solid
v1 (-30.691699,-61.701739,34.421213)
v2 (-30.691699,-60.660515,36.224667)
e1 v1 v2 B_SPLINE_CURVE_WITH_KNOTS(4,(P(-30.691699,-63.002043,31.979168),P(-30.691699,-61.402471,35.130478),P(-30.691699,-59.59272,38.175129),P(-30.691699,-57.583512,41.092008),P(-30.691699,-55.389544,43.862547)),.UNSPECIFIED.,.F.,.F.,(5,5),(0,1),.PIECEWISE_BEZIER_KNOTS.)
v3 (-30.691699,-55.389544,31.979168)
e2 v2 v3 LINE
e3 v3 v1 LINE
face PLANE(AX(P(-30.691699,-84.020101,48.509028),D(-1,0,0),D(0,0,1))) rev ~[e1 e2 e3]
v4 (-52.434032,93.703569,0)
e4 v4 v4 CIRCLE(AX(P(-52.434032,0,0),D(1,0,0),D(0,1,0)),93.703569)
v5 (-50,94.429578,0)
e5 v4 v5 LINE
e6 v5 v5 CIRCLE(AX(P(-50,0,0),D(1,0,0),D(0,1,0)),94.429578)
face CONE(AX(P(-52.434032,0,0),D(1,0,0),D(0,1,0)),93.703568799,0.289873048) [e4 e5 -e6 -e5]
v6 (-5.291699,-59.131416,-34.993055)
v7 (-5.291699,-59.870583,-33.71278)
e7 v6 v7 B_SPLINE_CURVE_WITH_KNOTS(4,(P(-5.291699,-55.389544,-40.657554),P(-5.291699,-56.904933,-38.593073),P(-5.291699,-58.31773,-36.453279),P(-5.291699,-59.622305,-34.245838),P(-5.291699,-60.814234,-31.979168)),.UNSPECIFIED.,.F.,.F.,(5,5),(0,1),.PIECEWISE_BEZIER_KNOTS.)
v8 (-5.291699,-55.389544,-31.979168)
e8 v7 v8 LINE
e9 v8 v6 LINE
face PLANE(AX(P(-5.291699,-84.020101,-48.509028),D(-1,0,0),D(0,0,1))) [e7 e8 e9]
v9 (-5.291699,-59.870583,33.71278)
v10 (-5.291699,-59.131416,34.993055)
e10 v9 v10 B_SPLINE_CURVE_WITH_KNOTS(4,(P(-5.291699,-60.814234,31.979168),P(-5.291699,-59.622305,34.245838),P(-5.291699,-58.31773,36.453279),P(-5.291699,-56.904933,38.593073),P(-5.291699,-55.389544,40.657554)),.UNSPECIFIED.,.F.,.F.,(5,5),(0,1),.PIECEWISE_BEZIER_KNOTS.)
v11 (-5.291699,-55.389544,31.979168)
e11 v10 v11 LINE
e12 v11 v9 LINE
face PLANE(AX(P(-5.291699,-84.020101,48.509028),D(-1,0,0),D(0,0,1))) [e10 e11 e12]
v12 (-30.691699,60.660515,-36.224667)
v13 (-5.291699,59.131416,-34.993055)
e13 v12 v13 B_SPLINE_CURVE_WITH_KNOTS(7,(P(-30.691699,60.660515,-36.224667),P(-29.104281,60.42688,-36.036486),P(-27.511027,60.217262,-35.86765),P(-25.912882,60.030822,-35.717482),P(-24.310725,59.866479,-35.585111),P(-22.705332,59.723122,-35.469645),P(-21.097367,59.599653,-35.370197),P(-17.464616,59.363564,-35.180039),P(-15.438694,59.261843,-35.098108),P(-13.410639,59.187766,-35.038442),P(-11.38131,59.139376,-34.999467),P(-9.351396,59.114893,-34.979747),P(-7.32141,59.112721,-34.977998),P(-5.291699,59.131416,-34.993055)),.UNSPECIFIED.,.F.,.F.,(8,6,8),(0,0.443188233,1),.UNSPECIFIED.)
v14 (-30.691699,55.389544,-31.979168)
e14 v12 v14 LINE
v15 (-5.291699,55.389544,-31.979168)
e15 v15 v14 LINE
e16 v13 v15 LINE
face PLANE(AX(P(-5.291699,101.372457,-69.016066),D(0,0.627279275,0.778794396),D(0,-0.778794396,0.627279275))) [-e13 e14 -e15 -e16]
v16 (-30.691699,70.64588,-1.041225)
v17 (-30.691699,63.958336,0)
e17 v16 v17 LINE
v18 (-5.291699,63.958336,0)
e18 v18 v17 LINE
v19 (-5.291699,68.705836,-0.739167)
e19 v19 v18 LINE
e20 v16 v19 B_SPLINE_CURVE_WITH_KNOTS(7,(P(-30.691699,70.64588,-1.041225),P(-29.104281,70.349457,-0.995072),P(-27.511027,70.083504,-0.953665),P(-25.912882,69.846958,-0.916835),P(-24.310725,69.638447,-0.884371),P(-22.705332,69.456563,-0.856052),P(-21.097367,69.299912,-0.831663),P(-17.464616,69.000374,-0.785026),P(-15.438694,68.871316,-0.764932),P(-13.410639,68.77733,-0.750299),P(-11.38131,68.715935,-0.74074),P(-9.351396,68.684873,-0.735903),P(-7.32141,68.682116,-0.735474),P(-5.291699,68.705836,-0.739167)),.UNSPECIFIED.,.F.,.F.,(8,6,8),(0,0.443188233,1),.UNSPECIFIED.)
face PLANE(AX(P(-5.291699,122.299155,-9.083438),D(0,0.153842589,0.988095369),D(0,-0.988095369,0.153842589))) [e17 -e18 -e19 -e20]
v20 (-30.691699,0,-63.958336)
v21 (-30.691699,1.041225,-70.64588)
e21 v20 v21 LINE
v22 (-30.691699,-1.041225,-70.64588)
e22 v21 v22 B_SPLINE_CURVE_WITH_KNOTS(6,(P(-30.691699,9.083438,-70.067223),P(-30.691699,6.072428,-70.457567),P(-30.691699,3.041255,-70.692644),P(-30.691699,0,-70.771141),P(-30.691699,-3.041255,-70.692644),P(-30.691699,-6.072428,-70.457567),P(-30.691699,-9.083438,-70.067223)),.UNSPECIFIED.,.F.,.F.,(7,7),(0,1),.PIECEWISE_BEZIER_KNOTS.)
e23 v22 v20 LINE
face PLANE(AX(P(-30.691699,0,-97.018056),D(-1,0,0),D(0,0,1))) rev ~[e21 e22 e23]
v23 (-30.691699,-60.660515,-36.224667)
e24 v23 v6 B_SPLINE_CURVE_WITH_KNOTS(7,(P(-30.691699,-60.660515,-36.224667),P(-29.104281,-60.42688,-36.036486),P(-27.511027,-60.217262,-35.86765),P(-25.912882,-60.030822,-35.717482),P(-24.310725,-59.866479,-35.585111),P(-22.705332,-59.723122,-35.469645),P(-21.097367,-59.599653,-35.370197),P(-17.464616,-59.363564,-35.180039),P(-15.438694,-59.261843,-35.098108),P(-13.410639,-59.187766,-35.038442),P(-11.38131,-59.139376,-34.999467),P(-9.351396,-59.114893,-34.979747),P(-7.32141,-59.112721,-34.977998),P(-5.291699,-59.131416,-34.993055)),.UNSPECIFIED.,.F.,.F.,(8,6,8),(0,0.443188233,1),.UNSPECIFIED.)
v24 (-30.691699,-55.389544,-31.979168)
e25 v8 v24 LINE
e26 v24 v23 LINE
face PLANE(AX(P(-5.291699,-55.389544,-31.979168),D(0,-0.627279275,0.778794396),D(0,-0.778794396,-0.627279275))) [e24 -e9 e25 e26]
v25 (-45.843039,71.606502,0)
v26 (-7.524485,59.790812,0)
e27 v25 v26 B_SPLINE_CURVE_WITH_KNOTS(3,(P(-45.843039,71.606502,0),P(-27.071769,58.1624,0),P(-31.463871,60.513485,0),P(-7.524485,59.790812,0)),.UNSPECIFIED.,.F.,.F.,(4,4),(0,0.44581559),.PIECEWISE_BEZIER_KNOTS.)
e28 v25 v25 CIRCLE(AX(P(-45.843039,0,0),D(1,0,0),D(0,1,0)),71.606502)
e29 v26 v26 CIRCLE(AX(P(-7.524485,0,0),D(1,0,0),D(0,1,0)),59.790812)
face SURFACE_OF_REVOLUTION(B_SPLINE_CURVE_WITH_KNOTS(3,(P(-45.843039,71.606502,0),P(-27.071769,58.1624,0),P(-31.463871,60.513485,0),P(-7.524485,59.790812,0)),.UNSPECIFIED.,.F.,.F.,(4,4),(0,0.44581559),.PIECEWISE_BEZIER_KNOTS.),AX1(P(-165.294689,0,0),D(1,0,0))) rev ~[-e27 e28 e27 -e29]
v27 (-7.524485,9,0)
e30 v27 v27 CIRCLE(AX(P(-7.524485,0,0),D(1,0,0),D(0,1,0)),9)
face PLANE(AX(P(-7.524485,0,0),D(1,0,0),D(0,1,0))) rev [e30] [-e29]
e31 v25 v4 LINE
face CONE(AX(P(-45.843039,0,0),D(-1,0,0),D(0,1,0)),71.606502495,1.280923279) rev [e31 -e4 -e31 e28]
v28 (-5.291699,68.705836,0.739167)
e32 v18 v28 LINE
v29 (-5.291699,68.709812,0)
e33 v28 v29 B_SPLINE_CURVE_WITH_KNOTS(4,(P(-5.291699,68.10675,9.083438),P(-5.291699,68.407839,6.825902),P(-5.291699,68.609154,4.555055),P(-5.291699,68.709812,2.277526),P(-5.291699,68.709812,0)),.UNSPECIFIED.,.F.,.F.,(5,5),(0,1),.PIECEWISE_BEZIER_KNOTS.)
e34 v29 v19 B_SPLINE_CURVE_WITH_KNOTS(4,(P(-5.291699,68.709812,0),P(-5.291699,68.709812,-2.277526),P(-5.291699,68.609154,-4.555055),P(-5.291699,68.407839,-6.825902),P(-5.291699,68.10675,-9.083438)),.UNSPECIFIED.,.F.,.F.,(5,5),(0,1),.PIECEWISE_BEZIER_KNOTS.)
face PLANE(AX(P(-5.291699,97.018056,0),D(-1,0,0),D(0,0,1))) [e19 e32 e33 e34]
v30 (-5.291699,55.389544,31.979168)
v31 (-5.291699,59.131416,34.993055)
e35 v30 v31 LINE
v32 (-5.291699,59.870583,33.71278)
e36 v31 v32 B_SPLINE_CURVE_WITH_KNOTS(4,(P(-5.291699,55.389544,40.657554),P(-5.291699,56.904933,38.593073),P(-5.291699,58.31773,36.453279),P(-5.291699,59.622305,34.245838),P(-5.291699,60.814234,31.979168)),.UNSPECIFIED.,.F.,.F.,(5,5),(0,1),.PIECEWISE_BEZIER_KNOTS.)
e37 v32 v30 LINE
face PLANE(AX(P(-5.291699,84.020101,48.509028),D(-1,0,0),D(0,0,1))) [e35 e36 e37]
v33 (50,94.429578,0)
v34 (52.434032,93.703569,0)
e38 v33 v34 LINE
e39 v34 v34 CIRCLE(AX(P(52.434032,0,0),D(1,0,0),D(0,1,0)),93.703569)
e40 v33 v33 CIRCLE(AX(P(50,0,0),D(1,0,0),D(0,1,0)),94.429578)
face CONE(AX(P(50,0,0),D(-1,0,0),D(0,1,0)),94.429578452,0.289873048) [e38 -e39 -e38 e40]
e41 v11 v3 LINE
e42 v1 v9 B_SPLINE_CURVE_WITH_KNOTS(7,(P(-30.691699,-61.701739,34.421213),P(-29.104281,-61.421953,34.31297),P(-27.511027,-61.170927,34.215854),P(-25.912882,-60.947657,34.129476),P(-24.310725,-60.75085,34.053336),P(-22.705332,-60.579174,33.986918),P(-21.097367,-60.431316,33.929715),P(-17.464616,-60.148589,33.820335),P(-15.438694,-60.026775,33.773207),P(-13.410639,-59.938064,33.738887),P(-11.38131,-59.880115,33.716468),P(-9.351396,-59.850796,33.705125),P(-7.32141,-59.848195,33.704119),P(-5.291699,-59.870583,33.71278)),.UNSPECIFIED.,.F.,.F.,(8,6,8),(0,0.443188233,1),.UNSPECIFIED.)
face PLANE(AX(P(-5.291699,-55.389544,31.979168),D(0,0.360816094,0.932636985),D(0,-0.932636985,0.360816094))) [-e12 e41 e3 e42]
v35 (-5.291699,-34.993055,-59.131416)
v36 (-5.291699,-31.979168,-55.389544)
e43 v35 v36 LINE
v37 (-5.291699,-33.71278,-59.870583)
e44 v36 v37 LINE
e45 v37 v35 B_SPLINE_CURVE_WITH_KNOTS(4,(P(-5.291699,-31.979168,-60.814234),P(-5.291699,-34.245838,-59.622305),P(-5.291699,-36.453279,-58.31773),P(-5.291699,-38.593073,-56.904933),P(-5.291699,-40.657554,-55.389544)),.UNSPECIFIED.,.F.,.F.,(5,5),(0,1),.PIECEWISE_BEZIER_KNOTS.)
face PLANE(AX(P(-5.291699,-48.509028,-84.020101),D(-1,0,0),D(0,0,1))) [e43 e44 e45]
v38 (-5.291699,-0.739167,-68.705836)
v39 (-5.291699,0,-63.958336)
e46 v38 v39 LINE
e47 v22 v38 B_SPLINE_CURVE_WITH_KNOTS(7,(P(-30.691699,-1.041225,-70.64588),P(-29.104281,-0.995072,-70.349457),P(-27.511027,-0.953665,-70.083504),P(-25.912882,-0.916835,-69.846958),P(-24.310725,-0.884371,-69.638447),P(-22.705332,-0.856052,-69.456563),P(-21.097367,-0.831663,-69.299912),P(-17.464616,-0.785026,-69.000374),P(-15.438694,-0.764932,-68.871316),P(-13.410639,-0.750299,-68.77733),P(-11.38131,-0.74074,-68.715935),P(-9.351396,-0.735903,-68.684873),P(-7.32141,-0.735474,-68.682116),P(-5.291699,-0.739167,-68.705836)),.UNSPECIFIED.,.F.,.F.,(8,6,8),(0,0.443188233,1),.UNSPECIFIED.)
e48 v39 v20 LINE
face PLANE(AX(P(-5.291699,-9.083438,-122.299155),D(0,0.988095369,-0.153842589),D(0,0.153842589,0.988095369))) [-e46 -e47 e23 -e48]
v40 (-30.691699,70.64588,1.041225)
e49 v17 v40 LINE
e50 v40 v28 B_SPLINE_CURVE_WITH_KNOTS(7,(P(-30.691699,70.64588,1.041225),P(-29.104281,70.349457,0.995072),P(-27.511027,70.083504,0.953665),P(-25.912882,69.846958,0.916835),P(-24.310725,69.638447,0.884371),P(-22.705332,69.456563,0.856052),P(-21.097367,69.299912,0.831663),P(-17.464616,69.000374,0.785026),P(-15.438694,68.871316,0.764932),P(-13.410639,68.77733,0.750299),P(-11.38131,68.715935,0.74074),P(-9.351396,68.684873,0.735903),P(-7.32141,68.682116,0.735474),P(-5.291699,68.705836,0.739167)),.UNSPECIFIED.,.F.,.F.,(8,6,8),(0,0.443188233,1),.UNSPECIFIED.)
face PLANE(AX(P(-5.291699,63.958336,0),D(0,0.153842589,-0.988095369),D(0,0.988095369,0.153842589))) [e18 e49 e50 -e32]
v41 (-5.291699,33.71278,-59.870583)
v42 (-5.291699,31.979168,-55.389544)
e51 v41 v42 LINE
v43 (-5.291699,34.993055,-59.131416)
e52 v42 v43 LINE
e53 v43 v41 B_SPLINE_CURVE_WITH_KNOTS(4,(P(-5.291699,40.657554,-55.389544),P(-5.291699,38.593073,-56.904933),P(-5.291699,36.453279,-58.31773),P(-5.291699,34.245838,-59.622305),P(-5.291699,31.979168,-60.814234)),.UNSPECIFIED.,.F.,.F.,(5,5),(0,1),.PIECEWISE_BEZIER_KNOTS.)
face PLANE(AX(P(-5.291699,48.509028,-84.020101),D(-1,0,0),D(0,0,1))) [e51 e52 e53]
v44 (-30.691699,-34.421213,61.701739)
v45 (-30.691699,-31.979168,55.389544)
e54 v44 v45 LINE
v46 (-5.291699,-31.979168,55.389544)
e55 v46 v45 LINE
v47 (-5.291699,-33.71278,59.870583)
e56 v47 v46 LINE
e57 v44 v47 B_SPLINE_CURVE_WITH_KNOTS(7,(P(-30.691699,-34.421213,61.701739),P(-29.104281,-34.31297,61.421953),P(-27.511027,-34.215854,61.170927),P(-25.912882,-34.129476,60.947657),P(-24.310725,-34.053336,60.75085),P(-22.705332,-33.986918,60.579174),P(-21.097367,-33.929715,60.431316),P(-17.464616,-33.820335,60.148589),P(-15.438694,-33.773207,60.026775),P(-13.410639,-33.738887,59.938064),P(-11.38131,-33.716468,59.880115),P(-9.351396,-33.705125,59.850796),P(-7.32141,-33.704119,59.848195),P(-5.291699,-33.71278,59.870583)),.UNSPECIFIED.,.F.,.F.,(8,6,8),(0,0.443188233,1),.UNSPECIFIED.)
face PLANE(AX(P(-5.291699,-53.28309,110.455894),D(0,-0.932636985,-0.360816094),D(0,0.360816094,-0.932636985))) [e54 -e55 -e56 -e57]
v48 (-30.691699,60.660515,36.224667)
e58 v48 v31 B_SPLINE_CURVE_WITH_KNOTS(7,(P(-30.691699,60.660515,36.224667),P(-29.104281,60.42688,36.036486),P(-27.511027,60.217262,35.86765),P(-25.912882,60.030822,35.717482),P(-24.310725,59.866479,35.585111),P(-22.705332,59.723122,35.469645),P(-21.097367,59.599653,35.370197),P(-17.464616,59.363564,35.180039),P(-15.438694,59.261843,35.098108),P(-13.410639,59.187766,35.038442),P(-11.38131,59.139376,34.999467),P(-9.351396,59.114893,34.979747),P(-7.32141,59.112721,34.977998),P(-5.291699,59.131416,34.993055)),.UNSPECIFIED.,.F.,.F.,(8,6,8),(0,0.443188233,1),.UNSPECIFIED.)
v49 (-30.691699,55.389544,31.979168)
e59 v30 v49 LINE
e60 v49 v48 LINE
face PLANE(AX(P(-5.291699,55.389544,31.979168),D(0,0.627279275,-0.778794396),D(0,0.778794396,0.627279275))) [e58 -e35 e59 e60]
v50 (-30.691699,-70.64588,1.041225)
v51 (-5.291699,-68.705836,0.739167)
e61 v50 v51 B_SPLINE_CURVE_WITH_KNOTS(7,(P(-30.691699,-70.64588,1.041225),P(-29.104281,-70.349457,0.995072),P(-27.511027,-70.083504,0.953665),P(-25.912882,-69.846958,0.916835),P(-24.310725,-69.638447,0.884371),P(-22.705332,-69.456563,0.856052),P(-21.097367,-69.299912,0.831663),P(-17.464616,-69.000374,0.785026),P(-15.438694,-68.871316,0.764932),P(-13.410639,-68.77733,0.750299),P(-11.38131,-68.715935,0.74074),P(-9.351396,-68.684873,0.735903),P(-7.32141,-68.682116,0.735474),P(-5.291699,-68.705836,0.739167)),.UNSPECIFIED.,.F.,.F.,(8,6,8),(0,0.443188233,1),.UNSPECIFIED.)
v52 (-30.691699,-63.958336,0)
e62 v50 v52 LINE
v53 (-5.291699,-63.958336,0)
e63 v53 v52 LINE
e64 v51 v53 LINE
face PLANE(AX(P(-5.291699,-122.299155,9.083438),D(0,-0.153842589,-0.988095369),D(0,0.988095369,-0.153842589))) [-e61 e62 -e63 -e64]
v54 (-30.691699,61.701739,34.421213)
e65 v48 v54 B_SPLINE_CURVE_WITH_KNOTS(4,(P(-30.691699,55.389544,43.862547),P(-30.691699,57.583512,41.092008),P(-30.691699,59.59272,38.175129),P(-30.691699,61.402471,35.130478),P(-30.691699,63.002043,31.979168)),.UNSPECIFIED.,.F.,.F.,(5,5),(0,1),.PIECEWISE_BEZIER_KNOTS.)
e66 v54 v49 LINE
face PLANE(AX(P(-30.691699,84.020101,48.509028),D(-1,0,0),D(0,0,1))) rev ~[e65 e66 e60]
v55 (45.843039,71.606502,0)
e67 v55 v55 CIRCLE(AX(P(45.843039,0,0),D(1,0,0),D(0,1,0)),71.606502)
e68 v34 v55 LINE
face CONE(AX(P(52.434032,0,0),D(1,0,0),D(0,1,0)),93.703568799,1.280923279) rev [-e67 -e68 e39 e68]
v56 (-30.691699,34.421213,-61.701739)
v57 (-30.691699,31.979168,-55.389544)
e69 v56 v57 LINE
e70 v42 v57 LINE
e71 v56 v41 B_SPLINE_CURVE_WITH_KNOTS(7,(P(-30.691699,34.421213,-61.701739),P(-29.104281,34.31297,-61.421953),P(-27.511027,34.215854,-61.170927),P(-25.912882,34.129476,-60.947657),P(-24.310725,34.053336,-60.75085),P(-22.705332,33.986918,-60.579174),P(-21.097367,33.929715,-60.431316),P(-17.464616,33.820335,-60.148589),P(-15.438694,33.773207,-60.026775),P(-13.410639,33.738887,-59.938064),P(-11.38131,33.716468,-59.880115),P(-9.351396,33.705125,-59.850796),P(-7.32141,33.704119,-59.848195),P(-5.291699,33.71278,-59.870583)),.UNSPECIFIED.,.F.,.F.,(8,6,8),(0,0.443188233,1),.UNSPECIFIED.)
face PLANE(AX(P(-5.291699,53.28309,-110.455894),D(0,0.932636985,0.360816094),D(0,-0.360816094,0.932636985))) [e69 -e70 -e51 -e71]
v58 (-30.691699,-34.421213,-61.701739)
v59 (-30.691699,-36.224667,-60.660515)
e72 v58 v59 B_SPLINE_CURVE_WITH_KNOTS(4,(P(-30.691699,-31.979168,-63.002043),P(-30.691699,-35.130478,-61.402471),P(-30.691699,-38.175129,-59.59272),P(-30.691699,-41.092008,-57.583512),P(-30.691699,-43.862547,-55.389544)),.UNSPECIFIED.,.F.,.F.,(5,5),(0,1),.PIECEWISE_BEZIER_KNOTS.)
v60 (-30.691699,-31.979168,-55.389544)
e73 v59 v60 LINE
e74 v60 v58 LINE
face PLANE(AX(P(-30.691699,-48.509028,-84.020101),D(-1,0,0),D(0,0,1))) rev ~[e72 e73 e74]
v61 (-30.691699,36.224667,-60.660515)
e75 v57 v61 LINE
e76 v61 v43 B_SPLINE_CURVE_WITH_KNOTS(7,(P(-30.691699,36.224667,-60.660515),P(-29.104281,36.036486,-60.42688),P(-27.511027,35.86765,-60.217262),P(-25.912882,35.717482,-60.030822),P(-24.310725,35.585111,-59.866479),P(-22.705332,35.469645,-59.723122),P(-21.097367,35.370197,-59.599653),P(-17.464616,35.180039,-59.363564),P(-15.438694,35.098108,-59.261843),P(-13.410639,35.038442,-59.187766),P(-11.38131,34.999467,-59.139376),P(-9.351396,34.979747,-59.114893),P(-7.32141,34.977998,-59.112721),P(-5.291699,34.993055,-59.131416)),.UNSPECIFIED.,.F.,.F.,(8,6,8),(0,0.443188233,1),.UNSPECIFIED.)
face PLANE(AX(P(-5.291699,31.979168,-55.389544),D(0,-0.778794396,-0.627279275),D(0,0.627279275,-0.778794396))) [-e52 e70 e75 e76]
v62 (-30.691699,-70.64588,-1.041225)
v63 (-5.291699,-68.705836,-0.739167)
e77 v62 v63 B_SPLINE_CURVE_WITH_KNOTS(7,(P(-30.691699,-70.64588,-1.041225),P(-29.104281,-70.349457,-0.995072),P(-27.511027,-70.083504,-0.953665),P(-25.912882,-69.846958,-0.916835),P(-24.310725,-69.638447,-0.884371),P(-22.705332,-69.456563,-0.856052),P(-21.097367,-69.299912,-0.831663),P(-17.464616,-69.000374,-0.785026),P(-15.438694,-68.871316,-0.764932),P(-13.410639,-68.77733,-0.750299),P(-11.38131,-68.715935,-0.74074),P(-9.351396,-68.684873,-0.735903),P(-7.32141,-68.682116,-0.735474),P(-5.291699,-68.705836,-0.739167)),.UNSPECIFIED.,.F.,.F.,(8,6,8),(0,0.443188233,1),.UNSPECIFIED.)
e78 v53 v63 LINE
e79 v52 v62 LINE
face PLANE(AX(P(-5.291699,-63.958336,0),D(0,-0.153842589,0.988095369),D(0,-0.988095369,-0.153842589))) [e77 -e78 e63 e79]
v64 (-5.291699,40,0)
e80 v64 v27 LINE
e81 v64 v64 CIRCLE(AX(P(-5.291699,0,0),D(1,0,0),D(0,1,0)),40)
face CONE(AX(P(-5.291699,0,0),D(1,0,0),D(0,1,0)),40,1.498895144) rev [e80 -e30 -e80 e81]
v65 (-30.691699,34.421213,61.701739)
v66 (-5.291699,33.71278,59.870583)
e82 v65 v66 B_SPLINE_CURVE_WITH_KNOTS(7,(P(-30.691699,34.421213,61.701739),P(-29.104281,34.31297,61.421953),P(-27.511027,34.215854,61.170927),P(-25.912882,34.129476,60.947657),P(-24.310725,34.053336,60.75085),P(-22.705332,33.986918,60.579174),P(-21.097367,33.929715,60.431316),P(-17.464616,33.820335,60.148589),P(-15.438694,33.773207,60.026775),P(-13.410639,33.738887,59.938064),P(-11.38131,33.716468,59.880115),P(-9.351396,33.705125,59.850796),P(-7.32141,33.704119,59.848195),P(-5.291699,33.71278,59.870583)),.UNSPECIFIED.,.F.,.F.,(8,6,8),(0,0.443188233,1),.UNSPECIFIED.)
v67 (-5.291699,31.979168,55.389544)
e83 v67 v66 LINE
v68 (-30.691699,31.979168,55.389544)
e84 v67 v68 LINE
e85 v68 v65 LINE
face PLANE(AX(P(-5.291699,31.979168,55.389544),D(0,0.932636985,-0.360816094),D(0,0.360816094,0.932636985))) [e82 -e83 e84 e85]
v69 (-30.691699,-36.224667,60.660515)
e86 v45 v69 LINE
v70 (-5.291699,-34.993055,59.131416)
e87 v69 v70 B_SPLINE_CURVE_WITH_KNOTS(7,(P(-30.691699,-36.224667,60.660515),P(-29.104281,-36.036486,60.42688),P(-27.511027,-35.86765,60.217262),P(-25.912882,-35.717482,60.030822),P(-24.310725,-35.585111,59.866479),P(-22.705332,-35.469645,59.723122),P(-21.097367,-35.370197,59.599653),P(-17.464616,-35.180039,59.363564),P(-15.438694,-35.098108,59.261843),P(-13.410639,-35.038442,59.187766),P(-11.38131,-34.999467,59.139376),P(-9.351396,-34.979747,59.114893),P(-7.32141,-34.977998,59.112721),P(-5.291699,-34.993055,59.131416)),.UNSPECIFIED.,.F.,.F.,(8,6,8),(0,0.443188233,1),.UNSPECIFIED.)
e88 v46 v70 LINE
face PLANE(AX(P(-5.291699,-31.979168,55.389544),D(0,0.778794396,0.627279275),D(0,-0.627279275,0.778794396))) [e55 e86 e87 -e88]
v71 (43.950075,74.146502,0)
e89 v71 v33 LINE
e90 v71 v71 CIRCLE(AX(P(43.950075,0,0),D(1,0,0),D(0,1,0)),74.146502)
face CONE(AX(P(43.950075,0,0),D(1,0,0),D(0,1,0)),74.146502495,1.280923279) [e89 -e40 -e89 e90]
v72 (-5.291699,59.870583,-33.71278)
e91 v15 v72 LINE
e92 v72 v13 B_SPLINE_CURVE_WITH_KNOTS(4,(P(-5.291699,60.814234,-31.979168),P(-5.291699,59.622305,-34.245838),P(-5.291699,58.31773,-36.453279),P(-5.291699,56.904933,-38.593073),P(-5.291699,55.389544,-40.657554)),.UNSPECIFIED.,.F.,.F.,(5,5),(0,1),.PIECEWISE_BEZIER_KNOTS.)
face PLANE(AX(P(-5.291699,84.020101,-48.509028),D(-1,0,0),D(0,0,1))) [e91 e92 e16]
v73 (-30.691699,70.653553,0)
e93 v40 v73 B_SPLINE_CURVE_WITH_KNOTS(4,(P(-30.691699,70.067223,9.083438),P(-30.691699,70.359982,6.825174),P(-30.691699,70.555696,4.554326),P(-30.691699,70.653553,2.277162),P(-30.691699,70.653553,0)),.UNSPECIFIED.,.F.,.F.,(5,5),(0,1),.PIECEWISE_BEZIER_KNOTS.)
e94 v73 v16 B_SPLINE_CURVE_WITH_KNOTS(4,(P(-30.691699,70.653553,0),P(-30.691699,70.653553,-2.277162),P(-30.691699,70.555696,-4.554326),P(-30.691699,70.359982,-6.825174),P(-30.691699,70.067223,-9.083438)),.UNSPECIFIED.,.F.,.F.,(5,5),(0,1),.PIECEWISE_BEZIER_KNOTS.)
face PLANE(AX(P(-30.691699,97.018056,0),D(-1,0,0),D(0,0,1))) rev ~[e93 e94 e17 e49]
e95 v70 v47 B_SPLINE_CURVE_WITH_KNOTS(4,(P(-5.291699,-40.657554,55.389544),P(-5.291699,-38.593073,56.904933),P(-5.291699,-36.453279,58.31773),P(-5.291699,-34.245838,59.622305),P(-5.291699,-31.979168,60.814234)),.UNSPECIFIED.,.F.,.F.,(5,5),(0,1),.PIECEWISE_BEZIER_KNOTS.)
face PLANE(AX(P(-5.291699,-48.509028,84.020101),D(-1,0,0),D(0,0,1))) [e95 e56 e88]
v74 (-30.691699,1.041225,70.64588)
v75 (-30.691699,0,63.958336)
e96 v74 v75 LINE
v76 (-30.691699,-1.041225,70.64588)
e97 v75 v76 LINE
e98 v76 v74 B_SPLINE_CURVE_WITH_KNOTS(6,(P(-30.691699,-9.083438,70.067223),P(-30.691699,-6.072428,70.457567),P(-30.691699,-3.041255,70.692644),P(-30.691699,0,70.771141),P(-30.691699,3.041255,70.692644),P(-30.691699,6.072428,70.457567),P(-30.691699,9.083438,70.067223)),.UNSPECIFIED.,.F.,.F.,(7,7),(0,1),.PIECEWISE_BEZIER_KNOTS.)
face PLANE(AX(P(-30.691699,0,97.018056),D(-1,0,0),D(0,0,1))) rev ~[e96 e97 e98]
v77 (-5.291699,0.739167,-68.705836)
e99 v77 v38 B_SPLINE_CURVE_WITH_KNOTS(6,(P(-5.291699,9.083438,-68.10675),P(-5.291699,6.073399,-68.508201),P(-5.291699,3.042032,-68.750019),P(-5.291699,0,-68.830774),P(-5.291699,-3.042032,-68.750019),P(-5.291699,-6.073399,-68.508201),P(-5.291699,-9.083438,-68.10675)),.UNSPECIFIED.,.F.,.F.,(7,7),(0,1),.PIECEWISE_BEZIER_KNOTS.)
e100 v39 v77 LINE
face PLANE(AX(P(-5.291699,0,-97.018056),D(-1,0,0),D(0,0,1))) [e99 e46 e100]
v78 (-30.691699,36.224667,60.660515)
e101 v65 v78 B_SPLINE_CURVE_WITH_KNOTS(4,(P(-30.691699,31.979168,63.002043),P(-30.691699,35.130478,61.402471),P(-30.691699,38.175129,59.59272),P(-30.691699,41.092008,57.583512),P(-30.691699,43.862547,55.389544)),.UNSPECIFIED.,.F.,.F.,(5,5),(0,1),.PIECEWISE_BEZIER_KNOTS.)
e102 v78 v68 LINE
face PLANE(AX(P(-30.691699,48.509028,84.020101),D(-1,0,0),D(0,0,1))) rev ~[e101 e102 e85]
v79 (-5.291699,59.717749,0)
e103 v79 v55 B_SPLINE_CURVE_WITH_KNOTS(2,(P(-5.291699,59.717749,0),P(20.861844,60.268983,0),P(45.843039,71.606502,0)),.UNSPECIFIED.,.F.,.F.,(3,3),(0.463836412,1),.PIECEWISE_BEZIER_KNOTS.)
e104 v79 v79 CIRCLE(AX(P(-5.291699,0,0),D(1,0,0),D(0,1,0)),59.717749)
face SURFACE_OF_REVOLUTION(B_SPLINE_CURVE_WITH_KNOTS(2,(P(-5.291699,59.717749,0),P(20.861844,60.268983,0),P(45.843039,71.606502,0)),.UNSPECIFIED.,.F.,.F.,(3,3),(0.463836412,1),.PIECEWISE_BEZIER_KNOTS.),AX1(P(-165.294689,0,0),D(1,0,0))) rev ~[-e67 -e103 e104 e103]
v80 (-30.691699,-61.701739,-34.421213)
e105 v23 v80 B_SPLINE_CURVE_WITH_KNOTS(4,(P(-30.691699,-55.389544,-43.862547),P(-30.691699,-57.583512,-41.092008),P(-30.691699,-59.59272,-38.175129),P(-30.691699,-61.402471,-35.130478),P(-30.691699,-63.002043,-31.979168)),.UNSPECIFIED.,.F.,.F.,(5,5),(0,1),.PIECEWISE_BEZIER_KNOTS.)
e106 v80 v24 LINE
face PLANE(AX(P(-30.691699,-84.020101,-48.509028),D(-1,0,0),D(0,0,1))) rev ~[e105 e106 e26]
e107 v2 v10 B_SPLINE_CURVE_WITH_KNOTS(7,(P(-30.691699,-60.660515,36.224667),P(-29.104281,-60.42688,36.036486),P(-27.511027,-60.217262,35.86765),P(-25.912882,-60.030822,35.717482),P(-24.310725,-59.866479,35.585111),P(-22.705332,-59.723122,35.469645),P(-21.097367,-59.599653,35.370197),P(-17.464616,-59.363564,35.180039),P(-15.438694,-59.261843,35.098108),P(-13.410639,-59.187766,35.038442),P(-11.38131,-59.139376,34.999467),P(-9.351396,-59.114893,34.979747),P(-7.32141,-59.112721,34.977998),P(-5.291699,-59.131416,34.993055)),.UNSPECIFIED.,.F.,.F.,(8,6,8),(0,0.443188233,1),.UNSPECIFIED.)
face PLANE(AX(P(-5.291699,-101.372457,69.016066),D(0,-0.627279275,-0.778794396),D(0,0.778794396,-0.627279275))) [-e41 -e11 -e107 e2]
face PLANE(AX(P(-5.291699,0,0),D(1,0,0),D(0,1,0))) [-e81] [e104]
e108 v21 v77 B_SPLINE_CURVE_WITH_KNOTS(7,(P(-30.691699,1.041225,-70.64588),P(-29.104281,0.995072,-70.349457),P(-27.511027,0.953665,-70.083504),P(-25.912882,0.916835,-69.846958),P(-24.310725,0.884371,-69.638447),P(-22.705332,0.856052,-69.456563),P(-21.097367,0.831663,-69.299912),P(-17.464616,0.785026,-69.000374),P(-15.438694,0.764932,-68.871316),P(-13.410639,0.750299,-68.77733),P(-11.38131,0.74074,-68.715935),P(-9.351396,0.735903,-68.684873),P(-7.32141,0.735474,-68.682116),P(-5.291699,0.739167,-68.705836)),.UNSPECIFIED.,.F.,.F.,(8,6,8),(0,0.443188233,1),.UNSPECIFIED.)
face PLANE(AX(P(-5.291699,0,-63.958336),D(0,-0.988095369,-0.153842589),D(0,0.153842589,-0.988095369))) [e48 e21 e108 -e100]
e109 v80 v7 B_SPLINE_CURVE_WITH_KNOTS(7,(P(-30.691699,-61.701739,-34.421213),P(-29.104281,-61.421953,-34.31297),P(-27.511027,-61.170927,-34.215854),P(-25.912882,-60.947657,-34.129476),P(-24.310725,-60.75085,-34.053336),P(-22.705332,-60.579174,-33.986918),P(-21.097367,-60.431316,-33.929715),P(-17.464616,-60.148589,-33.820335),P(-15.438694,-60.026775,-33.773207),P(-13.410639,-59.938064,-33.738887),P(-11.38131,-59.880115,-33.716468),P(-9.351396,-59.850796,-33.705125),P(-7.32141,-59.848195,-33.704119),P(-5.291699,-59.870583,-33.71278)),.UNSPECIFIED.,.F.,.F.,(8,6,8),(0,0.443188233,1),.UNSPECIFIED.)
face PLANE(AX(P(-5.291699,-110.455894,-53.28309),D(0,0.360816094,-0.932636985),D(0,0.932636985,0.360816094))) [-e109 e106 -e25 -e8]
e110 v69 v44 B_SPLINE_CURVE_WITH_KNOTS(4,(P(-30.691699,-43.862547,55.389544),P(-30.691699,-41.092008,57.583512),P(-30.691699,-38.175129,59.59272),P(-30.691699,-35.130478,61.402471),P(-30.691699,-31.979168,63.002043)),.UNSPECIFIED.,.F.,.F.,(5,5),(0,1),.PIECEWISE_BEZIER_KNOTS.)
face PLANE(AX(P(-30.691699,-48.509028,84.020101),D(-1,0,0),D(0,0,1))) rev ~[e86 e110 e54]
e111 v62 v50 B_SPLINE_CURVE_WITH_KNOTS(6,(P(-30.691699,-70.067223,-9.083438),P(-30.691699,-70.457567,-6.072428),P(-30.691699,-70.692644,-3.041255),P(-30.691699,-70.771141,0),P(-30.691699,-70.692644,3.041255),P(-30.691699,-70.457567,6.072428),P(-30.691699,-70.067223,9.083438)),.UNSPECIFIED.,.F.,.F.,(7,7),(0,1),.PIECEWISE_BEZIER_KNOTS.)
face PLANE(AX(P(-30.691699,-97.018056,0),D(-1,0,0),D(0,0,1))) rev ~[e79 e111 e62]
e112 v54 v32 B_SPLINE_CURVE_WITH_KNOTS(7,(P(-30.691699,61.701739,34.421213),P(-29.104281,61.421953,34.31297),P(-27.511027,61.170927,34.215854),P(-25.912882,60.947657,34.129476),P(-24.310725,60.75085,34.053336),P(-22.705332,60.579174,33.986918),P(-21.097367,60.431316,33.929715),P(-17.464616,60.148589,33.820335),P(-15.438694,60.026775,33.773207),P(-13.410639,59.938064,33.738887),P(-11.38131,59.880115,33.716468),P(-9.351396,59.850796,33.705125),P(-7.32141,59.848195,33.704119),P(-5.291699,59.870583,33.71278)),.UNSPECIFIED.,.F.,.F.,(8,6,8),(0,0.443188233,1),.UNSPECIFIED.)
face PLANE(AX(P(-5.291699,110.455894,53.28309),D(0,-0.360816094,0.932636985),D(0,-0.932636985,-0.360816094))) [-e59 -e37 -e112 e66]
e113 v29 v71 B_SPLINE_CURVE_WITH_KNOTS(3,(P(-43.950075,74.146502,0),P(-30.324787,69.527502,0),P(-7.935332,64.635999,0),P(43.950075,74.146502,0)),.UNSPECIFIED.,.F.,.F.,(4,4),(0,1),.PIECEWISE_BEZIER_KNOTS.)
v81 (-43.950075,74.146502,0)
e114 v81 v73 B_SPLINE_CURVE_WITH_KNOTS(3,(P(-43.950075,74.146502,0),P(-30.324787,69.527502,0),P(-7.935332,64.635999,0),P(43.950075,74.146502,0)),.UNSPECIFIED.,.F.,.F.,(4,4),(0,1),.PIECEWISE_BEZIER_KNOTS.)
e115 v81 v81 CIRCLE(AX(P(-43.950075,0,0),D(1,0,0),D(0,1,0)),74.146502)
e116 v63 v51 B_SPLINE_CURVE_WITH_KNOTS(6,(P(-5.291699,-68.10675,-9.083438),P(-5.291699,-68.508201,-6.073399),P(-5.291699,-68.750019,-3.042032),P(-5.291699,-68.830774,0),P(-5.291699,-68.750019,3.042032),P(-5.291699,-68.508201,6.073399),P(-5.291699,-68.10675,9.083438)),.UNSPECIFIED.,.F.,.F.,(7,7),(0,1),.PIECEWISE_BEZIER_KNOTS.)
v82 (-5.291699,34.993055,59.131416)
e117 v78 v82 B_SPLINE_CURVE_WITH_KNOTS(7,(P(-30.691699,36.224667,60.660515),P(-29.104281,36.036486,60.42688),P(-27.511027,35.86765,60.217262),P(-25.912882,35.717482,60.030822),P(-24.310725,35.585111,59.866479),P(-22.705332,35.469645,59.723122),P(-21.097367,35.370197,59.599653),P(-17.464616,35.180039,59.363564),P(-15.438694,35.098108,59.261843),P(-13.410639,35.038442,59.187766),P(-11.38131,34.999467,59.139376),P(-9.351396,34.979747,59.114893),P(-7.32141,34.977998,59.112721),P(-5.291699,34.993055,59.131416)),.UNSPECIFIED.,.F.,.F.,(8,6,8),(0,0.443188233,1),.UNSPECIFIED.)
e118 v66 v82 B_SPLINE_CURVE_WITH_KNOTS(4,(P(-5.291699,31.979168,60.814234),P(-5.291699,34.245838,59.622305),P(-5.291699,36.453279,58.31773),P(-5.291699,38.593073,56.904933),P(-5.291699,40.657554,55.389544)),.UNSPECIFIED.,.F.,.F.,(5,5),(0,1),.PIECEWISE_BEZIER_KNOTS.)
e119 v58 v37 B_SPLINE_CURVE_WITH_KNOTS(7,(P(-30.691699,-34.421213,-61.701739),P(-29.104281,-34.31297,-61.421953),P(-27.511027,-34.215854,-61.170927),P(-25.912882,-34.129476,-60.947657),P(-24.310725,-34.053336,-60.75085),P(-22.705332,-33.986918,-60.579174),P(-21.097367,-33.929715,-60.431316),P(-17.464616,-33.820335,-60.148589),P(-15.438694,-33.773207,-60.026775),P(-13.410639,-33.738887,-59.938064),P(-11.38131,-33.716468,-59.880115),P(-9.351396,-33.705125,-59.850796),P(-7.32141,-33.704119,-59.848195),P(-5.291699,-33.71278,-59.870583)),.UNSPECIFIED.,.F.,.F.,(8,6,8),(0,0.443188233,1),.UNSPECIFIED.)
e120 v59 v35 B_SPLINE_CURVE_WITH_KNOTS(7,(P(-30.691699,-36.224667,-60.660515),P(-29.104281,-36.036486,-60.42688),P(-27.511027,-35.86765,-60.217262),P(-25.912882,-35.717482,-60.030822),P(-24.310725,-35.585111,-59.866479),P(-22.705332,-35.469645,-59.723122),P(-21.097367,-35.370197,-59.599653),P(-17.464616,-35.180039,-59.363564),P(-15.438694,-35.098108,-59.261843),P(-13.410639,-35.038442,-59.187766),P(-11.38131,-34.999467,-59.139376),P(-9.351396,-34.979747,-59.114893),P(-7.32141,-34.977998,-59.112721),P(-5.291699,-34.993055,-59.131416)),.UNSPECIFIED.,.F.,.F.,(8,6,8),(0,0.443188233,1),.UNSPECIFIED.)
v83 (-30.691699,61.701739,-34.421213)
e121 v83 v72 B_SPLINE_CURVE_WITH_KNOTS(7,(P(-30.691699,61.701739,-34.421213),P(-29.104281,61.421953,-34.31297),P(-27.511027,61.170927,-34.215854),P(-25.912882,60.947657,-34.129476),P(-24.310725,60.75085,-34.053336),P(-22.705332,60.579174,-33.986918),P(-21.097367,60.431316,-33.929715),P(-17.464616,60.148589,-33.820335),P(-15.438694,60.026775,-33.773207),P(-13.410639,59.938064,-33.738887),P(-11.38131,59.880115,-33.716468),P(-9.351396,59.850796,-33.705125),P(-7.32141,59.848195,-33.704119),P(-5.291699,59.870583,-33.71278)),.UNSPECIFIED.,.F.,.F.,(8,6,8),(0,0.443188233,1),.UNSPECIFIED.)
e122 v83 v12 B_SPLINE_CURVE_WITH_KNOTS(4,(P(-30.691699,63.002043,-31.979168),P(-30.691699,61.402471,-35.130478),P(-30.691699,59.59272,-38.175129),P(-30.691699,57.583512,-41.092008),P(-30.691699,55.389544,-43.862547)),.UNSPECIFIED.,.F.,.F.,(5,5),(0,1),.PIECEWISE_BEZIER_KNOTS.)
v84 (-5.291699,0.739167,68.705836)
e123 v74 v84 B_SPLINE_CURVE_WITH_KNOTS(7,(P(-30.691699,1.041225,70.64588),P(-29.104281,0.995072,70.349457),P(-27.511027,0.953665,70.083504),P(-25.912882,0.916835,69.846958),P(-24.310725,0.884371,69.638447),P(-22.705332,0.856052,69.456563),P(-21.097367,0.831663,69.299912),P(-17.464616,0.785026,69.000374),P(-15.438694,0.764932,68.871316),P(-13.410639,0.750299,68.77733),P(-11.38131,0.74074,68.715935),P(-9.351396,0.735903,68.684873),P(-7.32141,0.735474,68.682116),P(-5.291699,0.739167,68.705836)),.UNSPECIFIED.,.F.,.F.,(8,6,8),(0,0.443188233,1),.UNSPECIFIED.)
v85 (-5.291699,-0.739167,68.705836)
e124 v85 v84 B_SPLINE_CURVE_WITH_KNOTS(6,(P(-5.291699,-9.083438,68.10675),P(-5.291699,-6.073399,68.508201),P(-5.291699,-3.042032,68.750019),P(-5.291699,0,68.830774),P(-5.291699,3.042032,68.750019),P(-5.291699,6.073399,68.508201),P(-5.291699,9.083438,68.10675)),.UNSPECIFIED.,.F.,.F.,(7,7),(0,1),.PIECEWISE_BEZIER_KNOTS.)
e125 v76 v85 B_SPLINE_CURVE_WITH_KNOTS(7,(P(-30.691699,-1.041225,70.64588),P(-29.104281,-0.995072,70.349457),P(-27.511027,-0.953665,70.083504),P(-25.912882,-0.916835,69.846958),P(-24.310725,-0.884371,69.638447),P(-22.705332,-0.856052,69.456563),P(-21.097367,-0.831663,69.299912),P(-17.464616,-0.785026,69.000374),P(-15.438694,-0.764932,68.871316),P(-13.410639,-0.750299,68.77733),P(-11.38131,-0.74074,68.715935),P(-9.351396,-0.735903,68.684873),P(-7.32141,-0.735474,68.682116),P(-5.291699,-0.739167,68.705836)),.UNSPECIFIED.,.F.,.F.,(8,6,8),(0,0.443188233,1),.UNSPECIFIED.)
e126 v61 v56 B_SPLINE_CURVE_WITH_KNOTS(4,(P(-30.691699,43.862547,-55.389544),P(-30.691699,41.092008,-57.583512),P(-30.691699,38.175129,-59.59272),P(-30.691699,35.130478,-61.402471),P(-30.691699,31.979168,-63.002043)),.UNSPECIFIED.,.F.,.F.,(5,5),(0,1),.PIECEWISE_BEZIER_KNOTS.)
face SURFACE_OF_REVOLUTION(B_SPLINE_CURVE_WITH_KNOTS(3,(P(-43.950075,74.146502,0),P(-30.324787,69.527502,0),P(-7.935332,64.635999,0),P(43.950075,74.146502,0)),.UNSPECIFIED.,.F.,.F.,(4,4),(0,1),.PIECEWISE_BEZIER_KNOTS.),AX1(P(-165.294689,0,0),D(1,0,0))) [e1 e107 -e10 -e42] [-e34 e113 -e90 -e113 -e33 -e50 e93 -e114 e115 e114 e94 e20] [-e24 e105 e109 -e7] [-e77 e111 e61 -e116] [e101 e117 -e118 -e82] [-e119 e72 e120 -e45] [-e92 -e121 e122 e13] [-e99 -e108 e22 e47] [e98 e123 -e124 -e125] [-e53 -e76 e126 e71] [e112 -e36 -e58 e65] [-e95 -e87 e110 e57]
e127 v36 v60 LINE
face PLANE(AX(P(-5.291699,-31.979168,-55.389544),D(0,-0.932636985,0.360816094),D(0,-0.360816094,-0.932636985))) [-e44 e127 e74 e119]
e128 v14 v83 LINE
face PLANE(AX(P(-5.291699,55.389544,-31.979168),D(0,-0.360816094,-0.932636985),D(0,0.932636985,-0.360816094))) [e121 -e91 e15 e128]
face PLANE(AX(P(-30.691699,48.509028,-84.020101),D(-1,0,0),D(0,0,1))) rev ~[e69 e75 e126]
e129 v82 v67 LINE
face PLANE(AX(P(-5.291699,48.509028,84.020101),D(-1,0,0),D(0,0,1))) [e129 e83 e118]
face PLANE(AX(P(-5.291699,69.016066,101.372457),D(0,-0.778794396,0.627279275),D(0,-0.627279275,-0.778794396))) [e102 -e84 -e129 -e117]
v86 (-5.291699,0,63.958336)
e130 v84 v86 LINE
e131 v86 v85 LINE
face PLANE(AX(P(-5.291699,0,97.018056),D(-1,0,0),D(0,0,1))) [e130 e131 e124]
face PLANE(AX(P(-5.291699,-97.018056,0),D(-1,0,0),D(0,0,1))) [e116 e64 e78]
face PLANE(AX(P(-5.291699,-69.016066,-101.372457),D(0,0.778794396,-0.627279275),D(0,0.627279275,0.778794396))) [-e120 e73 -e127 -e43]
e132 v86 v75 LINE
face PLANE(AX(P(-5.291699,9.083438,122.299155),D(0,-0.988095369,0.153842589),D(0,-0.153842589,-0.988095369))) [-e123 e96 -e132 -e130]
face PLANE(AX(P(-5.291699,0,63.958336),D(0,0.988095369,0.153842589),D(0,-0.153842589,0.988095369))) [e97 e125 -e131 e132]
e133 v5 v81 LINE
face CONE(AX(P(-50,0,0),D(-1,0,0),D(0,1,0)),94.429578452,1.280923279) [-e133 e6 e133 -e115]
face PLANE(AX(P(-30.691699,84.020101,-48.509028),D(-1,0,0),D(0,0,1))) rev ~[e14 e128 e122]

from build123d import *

# Parameters (mm, degrees)
CUT_EXTRUDE1_DEPTH = 25.4


with BuildPart() as part:
    # Sketch1 → Revolve1 (revolve)
    with BuildSketch(Plane.XY):
        with BuildLine():
            Line((-50, 94.429578452), (-43.950074951, 74.146502495))
            add(Edge.make_bspline(
                [(-43.950074951, 74.146502495), (-30.324787154, 69.527502201), (-7.935332232, 64.635999311), (43.950074951, 74.146502495)],
                knots=[0, 0, 0, 0, 1, 1, 1, 1], degree=3))
            Line((43.950074951, 74.146502495), (50, 94.429578452))
            Line((50, 94.429578452), (52.434031632, 93.703568799))
            Line((52.434031632, 93.703568799), (45.843039456, 71.606502495))
            add(Edge.make_bspline(
                [(-5.291699224, 59.717748904), (20.861844129, 60.268983178), (45.843039456, 71.606502495)],
                knots=[0.463836412, 0.463836412, 0.463836412, 1, 1, 1], degree=2))
            Line((-5.291699224, 59.717748904), (-5.291699224, 40))
            Line((-5.291699224, 40), (-7.524484902, 9))
            Line((-7.524484902, 9), (-7.524484902, 59.790811734))
            add(Edge.make_bspline(
                [(-45.843039456, 71.606502495), (-27.071768847, 58.162400144), (-31.463870641, 60.513484529), (-7.524484902, 59.790811734)],
                knots=[0, 0, 0, 0, 0.44581559, 0.44581559, 0.44581559, 0.44581559], degree=3))
            Line((-45.843039456, 71.606502495), (-52.434031632, 93.703568799))
            Line((-52.434031632, 93.703568799), (-50, 94.429578452))
        make_face()
    revolve(axis=Axis((-165.294689037, 0, 0), (1, 0, 0)))

    # Sketch2 → Cut-Extrude1 (cut)
    with BuildSketch(Plane(origin=(-5.291699224, 0, 0), x_dir=(0, 0, -1), z_dir=(1, 0, 0))):
        Polygon((0, 63.958336037), (-9.083437699, 122.299155441), (9.083437699, 122.299155441), align=None)
        Polygon((31.979168019, 55.389543792), (53.283089919, 110.455894323), (69.016065522, 101.372456624), align=None)
        Polygon((55.389543792, 31.979168019), (101.372456624, 69.016065522), (110.455894323, 53.283089919), align=None)
        Polygon((63.958336037, 0), (122.299155441, 9.083437699), (122.299155441, -9.083437699), align=None)
        Polygon((55.389543792, -31.979168019), (110.455894323, -53.283089919), (101.372456624, -69.016065522), align=None)
        Polygon((31.979168019, -55.389543792), (69.016065522, -101.372456624), (53.283089919, -110.455894323), align=None)
        Polygon((0, -63.958336037), (9.083437699, -122.299155441), (-9.083437699, -122.299155441), align=None)
        Polygon((-31.979168019, -55.389543792), (-53.283089919, -110.455894323), (-69.016065522, -101.372456624), align=None)
        Polygon((-55.389543792, -31.979168019), (-101.372456624, -69.016065522), (-110.455894323, -53.283089919), align=None)
        Polygon((-63.958336037, 0), (-122.299155441, -9.083437699), (-122.299155441, 9.083437699), align=None)
        Polygon((-55.389543792, 31.979168019), (-110.455894323, 53.283089919), (-101.372456624, 69.016065522), align=None)
        Polygon((-31.979168019, 55.389543792), (-69.016065522, 101.372456624), (-53.283089919, 110.455894323), align=None)
    extrude(amount=-CUT_EXTRUDE1_DEPTH, mode=Mode.SUBTRACT)


solid = part.part
